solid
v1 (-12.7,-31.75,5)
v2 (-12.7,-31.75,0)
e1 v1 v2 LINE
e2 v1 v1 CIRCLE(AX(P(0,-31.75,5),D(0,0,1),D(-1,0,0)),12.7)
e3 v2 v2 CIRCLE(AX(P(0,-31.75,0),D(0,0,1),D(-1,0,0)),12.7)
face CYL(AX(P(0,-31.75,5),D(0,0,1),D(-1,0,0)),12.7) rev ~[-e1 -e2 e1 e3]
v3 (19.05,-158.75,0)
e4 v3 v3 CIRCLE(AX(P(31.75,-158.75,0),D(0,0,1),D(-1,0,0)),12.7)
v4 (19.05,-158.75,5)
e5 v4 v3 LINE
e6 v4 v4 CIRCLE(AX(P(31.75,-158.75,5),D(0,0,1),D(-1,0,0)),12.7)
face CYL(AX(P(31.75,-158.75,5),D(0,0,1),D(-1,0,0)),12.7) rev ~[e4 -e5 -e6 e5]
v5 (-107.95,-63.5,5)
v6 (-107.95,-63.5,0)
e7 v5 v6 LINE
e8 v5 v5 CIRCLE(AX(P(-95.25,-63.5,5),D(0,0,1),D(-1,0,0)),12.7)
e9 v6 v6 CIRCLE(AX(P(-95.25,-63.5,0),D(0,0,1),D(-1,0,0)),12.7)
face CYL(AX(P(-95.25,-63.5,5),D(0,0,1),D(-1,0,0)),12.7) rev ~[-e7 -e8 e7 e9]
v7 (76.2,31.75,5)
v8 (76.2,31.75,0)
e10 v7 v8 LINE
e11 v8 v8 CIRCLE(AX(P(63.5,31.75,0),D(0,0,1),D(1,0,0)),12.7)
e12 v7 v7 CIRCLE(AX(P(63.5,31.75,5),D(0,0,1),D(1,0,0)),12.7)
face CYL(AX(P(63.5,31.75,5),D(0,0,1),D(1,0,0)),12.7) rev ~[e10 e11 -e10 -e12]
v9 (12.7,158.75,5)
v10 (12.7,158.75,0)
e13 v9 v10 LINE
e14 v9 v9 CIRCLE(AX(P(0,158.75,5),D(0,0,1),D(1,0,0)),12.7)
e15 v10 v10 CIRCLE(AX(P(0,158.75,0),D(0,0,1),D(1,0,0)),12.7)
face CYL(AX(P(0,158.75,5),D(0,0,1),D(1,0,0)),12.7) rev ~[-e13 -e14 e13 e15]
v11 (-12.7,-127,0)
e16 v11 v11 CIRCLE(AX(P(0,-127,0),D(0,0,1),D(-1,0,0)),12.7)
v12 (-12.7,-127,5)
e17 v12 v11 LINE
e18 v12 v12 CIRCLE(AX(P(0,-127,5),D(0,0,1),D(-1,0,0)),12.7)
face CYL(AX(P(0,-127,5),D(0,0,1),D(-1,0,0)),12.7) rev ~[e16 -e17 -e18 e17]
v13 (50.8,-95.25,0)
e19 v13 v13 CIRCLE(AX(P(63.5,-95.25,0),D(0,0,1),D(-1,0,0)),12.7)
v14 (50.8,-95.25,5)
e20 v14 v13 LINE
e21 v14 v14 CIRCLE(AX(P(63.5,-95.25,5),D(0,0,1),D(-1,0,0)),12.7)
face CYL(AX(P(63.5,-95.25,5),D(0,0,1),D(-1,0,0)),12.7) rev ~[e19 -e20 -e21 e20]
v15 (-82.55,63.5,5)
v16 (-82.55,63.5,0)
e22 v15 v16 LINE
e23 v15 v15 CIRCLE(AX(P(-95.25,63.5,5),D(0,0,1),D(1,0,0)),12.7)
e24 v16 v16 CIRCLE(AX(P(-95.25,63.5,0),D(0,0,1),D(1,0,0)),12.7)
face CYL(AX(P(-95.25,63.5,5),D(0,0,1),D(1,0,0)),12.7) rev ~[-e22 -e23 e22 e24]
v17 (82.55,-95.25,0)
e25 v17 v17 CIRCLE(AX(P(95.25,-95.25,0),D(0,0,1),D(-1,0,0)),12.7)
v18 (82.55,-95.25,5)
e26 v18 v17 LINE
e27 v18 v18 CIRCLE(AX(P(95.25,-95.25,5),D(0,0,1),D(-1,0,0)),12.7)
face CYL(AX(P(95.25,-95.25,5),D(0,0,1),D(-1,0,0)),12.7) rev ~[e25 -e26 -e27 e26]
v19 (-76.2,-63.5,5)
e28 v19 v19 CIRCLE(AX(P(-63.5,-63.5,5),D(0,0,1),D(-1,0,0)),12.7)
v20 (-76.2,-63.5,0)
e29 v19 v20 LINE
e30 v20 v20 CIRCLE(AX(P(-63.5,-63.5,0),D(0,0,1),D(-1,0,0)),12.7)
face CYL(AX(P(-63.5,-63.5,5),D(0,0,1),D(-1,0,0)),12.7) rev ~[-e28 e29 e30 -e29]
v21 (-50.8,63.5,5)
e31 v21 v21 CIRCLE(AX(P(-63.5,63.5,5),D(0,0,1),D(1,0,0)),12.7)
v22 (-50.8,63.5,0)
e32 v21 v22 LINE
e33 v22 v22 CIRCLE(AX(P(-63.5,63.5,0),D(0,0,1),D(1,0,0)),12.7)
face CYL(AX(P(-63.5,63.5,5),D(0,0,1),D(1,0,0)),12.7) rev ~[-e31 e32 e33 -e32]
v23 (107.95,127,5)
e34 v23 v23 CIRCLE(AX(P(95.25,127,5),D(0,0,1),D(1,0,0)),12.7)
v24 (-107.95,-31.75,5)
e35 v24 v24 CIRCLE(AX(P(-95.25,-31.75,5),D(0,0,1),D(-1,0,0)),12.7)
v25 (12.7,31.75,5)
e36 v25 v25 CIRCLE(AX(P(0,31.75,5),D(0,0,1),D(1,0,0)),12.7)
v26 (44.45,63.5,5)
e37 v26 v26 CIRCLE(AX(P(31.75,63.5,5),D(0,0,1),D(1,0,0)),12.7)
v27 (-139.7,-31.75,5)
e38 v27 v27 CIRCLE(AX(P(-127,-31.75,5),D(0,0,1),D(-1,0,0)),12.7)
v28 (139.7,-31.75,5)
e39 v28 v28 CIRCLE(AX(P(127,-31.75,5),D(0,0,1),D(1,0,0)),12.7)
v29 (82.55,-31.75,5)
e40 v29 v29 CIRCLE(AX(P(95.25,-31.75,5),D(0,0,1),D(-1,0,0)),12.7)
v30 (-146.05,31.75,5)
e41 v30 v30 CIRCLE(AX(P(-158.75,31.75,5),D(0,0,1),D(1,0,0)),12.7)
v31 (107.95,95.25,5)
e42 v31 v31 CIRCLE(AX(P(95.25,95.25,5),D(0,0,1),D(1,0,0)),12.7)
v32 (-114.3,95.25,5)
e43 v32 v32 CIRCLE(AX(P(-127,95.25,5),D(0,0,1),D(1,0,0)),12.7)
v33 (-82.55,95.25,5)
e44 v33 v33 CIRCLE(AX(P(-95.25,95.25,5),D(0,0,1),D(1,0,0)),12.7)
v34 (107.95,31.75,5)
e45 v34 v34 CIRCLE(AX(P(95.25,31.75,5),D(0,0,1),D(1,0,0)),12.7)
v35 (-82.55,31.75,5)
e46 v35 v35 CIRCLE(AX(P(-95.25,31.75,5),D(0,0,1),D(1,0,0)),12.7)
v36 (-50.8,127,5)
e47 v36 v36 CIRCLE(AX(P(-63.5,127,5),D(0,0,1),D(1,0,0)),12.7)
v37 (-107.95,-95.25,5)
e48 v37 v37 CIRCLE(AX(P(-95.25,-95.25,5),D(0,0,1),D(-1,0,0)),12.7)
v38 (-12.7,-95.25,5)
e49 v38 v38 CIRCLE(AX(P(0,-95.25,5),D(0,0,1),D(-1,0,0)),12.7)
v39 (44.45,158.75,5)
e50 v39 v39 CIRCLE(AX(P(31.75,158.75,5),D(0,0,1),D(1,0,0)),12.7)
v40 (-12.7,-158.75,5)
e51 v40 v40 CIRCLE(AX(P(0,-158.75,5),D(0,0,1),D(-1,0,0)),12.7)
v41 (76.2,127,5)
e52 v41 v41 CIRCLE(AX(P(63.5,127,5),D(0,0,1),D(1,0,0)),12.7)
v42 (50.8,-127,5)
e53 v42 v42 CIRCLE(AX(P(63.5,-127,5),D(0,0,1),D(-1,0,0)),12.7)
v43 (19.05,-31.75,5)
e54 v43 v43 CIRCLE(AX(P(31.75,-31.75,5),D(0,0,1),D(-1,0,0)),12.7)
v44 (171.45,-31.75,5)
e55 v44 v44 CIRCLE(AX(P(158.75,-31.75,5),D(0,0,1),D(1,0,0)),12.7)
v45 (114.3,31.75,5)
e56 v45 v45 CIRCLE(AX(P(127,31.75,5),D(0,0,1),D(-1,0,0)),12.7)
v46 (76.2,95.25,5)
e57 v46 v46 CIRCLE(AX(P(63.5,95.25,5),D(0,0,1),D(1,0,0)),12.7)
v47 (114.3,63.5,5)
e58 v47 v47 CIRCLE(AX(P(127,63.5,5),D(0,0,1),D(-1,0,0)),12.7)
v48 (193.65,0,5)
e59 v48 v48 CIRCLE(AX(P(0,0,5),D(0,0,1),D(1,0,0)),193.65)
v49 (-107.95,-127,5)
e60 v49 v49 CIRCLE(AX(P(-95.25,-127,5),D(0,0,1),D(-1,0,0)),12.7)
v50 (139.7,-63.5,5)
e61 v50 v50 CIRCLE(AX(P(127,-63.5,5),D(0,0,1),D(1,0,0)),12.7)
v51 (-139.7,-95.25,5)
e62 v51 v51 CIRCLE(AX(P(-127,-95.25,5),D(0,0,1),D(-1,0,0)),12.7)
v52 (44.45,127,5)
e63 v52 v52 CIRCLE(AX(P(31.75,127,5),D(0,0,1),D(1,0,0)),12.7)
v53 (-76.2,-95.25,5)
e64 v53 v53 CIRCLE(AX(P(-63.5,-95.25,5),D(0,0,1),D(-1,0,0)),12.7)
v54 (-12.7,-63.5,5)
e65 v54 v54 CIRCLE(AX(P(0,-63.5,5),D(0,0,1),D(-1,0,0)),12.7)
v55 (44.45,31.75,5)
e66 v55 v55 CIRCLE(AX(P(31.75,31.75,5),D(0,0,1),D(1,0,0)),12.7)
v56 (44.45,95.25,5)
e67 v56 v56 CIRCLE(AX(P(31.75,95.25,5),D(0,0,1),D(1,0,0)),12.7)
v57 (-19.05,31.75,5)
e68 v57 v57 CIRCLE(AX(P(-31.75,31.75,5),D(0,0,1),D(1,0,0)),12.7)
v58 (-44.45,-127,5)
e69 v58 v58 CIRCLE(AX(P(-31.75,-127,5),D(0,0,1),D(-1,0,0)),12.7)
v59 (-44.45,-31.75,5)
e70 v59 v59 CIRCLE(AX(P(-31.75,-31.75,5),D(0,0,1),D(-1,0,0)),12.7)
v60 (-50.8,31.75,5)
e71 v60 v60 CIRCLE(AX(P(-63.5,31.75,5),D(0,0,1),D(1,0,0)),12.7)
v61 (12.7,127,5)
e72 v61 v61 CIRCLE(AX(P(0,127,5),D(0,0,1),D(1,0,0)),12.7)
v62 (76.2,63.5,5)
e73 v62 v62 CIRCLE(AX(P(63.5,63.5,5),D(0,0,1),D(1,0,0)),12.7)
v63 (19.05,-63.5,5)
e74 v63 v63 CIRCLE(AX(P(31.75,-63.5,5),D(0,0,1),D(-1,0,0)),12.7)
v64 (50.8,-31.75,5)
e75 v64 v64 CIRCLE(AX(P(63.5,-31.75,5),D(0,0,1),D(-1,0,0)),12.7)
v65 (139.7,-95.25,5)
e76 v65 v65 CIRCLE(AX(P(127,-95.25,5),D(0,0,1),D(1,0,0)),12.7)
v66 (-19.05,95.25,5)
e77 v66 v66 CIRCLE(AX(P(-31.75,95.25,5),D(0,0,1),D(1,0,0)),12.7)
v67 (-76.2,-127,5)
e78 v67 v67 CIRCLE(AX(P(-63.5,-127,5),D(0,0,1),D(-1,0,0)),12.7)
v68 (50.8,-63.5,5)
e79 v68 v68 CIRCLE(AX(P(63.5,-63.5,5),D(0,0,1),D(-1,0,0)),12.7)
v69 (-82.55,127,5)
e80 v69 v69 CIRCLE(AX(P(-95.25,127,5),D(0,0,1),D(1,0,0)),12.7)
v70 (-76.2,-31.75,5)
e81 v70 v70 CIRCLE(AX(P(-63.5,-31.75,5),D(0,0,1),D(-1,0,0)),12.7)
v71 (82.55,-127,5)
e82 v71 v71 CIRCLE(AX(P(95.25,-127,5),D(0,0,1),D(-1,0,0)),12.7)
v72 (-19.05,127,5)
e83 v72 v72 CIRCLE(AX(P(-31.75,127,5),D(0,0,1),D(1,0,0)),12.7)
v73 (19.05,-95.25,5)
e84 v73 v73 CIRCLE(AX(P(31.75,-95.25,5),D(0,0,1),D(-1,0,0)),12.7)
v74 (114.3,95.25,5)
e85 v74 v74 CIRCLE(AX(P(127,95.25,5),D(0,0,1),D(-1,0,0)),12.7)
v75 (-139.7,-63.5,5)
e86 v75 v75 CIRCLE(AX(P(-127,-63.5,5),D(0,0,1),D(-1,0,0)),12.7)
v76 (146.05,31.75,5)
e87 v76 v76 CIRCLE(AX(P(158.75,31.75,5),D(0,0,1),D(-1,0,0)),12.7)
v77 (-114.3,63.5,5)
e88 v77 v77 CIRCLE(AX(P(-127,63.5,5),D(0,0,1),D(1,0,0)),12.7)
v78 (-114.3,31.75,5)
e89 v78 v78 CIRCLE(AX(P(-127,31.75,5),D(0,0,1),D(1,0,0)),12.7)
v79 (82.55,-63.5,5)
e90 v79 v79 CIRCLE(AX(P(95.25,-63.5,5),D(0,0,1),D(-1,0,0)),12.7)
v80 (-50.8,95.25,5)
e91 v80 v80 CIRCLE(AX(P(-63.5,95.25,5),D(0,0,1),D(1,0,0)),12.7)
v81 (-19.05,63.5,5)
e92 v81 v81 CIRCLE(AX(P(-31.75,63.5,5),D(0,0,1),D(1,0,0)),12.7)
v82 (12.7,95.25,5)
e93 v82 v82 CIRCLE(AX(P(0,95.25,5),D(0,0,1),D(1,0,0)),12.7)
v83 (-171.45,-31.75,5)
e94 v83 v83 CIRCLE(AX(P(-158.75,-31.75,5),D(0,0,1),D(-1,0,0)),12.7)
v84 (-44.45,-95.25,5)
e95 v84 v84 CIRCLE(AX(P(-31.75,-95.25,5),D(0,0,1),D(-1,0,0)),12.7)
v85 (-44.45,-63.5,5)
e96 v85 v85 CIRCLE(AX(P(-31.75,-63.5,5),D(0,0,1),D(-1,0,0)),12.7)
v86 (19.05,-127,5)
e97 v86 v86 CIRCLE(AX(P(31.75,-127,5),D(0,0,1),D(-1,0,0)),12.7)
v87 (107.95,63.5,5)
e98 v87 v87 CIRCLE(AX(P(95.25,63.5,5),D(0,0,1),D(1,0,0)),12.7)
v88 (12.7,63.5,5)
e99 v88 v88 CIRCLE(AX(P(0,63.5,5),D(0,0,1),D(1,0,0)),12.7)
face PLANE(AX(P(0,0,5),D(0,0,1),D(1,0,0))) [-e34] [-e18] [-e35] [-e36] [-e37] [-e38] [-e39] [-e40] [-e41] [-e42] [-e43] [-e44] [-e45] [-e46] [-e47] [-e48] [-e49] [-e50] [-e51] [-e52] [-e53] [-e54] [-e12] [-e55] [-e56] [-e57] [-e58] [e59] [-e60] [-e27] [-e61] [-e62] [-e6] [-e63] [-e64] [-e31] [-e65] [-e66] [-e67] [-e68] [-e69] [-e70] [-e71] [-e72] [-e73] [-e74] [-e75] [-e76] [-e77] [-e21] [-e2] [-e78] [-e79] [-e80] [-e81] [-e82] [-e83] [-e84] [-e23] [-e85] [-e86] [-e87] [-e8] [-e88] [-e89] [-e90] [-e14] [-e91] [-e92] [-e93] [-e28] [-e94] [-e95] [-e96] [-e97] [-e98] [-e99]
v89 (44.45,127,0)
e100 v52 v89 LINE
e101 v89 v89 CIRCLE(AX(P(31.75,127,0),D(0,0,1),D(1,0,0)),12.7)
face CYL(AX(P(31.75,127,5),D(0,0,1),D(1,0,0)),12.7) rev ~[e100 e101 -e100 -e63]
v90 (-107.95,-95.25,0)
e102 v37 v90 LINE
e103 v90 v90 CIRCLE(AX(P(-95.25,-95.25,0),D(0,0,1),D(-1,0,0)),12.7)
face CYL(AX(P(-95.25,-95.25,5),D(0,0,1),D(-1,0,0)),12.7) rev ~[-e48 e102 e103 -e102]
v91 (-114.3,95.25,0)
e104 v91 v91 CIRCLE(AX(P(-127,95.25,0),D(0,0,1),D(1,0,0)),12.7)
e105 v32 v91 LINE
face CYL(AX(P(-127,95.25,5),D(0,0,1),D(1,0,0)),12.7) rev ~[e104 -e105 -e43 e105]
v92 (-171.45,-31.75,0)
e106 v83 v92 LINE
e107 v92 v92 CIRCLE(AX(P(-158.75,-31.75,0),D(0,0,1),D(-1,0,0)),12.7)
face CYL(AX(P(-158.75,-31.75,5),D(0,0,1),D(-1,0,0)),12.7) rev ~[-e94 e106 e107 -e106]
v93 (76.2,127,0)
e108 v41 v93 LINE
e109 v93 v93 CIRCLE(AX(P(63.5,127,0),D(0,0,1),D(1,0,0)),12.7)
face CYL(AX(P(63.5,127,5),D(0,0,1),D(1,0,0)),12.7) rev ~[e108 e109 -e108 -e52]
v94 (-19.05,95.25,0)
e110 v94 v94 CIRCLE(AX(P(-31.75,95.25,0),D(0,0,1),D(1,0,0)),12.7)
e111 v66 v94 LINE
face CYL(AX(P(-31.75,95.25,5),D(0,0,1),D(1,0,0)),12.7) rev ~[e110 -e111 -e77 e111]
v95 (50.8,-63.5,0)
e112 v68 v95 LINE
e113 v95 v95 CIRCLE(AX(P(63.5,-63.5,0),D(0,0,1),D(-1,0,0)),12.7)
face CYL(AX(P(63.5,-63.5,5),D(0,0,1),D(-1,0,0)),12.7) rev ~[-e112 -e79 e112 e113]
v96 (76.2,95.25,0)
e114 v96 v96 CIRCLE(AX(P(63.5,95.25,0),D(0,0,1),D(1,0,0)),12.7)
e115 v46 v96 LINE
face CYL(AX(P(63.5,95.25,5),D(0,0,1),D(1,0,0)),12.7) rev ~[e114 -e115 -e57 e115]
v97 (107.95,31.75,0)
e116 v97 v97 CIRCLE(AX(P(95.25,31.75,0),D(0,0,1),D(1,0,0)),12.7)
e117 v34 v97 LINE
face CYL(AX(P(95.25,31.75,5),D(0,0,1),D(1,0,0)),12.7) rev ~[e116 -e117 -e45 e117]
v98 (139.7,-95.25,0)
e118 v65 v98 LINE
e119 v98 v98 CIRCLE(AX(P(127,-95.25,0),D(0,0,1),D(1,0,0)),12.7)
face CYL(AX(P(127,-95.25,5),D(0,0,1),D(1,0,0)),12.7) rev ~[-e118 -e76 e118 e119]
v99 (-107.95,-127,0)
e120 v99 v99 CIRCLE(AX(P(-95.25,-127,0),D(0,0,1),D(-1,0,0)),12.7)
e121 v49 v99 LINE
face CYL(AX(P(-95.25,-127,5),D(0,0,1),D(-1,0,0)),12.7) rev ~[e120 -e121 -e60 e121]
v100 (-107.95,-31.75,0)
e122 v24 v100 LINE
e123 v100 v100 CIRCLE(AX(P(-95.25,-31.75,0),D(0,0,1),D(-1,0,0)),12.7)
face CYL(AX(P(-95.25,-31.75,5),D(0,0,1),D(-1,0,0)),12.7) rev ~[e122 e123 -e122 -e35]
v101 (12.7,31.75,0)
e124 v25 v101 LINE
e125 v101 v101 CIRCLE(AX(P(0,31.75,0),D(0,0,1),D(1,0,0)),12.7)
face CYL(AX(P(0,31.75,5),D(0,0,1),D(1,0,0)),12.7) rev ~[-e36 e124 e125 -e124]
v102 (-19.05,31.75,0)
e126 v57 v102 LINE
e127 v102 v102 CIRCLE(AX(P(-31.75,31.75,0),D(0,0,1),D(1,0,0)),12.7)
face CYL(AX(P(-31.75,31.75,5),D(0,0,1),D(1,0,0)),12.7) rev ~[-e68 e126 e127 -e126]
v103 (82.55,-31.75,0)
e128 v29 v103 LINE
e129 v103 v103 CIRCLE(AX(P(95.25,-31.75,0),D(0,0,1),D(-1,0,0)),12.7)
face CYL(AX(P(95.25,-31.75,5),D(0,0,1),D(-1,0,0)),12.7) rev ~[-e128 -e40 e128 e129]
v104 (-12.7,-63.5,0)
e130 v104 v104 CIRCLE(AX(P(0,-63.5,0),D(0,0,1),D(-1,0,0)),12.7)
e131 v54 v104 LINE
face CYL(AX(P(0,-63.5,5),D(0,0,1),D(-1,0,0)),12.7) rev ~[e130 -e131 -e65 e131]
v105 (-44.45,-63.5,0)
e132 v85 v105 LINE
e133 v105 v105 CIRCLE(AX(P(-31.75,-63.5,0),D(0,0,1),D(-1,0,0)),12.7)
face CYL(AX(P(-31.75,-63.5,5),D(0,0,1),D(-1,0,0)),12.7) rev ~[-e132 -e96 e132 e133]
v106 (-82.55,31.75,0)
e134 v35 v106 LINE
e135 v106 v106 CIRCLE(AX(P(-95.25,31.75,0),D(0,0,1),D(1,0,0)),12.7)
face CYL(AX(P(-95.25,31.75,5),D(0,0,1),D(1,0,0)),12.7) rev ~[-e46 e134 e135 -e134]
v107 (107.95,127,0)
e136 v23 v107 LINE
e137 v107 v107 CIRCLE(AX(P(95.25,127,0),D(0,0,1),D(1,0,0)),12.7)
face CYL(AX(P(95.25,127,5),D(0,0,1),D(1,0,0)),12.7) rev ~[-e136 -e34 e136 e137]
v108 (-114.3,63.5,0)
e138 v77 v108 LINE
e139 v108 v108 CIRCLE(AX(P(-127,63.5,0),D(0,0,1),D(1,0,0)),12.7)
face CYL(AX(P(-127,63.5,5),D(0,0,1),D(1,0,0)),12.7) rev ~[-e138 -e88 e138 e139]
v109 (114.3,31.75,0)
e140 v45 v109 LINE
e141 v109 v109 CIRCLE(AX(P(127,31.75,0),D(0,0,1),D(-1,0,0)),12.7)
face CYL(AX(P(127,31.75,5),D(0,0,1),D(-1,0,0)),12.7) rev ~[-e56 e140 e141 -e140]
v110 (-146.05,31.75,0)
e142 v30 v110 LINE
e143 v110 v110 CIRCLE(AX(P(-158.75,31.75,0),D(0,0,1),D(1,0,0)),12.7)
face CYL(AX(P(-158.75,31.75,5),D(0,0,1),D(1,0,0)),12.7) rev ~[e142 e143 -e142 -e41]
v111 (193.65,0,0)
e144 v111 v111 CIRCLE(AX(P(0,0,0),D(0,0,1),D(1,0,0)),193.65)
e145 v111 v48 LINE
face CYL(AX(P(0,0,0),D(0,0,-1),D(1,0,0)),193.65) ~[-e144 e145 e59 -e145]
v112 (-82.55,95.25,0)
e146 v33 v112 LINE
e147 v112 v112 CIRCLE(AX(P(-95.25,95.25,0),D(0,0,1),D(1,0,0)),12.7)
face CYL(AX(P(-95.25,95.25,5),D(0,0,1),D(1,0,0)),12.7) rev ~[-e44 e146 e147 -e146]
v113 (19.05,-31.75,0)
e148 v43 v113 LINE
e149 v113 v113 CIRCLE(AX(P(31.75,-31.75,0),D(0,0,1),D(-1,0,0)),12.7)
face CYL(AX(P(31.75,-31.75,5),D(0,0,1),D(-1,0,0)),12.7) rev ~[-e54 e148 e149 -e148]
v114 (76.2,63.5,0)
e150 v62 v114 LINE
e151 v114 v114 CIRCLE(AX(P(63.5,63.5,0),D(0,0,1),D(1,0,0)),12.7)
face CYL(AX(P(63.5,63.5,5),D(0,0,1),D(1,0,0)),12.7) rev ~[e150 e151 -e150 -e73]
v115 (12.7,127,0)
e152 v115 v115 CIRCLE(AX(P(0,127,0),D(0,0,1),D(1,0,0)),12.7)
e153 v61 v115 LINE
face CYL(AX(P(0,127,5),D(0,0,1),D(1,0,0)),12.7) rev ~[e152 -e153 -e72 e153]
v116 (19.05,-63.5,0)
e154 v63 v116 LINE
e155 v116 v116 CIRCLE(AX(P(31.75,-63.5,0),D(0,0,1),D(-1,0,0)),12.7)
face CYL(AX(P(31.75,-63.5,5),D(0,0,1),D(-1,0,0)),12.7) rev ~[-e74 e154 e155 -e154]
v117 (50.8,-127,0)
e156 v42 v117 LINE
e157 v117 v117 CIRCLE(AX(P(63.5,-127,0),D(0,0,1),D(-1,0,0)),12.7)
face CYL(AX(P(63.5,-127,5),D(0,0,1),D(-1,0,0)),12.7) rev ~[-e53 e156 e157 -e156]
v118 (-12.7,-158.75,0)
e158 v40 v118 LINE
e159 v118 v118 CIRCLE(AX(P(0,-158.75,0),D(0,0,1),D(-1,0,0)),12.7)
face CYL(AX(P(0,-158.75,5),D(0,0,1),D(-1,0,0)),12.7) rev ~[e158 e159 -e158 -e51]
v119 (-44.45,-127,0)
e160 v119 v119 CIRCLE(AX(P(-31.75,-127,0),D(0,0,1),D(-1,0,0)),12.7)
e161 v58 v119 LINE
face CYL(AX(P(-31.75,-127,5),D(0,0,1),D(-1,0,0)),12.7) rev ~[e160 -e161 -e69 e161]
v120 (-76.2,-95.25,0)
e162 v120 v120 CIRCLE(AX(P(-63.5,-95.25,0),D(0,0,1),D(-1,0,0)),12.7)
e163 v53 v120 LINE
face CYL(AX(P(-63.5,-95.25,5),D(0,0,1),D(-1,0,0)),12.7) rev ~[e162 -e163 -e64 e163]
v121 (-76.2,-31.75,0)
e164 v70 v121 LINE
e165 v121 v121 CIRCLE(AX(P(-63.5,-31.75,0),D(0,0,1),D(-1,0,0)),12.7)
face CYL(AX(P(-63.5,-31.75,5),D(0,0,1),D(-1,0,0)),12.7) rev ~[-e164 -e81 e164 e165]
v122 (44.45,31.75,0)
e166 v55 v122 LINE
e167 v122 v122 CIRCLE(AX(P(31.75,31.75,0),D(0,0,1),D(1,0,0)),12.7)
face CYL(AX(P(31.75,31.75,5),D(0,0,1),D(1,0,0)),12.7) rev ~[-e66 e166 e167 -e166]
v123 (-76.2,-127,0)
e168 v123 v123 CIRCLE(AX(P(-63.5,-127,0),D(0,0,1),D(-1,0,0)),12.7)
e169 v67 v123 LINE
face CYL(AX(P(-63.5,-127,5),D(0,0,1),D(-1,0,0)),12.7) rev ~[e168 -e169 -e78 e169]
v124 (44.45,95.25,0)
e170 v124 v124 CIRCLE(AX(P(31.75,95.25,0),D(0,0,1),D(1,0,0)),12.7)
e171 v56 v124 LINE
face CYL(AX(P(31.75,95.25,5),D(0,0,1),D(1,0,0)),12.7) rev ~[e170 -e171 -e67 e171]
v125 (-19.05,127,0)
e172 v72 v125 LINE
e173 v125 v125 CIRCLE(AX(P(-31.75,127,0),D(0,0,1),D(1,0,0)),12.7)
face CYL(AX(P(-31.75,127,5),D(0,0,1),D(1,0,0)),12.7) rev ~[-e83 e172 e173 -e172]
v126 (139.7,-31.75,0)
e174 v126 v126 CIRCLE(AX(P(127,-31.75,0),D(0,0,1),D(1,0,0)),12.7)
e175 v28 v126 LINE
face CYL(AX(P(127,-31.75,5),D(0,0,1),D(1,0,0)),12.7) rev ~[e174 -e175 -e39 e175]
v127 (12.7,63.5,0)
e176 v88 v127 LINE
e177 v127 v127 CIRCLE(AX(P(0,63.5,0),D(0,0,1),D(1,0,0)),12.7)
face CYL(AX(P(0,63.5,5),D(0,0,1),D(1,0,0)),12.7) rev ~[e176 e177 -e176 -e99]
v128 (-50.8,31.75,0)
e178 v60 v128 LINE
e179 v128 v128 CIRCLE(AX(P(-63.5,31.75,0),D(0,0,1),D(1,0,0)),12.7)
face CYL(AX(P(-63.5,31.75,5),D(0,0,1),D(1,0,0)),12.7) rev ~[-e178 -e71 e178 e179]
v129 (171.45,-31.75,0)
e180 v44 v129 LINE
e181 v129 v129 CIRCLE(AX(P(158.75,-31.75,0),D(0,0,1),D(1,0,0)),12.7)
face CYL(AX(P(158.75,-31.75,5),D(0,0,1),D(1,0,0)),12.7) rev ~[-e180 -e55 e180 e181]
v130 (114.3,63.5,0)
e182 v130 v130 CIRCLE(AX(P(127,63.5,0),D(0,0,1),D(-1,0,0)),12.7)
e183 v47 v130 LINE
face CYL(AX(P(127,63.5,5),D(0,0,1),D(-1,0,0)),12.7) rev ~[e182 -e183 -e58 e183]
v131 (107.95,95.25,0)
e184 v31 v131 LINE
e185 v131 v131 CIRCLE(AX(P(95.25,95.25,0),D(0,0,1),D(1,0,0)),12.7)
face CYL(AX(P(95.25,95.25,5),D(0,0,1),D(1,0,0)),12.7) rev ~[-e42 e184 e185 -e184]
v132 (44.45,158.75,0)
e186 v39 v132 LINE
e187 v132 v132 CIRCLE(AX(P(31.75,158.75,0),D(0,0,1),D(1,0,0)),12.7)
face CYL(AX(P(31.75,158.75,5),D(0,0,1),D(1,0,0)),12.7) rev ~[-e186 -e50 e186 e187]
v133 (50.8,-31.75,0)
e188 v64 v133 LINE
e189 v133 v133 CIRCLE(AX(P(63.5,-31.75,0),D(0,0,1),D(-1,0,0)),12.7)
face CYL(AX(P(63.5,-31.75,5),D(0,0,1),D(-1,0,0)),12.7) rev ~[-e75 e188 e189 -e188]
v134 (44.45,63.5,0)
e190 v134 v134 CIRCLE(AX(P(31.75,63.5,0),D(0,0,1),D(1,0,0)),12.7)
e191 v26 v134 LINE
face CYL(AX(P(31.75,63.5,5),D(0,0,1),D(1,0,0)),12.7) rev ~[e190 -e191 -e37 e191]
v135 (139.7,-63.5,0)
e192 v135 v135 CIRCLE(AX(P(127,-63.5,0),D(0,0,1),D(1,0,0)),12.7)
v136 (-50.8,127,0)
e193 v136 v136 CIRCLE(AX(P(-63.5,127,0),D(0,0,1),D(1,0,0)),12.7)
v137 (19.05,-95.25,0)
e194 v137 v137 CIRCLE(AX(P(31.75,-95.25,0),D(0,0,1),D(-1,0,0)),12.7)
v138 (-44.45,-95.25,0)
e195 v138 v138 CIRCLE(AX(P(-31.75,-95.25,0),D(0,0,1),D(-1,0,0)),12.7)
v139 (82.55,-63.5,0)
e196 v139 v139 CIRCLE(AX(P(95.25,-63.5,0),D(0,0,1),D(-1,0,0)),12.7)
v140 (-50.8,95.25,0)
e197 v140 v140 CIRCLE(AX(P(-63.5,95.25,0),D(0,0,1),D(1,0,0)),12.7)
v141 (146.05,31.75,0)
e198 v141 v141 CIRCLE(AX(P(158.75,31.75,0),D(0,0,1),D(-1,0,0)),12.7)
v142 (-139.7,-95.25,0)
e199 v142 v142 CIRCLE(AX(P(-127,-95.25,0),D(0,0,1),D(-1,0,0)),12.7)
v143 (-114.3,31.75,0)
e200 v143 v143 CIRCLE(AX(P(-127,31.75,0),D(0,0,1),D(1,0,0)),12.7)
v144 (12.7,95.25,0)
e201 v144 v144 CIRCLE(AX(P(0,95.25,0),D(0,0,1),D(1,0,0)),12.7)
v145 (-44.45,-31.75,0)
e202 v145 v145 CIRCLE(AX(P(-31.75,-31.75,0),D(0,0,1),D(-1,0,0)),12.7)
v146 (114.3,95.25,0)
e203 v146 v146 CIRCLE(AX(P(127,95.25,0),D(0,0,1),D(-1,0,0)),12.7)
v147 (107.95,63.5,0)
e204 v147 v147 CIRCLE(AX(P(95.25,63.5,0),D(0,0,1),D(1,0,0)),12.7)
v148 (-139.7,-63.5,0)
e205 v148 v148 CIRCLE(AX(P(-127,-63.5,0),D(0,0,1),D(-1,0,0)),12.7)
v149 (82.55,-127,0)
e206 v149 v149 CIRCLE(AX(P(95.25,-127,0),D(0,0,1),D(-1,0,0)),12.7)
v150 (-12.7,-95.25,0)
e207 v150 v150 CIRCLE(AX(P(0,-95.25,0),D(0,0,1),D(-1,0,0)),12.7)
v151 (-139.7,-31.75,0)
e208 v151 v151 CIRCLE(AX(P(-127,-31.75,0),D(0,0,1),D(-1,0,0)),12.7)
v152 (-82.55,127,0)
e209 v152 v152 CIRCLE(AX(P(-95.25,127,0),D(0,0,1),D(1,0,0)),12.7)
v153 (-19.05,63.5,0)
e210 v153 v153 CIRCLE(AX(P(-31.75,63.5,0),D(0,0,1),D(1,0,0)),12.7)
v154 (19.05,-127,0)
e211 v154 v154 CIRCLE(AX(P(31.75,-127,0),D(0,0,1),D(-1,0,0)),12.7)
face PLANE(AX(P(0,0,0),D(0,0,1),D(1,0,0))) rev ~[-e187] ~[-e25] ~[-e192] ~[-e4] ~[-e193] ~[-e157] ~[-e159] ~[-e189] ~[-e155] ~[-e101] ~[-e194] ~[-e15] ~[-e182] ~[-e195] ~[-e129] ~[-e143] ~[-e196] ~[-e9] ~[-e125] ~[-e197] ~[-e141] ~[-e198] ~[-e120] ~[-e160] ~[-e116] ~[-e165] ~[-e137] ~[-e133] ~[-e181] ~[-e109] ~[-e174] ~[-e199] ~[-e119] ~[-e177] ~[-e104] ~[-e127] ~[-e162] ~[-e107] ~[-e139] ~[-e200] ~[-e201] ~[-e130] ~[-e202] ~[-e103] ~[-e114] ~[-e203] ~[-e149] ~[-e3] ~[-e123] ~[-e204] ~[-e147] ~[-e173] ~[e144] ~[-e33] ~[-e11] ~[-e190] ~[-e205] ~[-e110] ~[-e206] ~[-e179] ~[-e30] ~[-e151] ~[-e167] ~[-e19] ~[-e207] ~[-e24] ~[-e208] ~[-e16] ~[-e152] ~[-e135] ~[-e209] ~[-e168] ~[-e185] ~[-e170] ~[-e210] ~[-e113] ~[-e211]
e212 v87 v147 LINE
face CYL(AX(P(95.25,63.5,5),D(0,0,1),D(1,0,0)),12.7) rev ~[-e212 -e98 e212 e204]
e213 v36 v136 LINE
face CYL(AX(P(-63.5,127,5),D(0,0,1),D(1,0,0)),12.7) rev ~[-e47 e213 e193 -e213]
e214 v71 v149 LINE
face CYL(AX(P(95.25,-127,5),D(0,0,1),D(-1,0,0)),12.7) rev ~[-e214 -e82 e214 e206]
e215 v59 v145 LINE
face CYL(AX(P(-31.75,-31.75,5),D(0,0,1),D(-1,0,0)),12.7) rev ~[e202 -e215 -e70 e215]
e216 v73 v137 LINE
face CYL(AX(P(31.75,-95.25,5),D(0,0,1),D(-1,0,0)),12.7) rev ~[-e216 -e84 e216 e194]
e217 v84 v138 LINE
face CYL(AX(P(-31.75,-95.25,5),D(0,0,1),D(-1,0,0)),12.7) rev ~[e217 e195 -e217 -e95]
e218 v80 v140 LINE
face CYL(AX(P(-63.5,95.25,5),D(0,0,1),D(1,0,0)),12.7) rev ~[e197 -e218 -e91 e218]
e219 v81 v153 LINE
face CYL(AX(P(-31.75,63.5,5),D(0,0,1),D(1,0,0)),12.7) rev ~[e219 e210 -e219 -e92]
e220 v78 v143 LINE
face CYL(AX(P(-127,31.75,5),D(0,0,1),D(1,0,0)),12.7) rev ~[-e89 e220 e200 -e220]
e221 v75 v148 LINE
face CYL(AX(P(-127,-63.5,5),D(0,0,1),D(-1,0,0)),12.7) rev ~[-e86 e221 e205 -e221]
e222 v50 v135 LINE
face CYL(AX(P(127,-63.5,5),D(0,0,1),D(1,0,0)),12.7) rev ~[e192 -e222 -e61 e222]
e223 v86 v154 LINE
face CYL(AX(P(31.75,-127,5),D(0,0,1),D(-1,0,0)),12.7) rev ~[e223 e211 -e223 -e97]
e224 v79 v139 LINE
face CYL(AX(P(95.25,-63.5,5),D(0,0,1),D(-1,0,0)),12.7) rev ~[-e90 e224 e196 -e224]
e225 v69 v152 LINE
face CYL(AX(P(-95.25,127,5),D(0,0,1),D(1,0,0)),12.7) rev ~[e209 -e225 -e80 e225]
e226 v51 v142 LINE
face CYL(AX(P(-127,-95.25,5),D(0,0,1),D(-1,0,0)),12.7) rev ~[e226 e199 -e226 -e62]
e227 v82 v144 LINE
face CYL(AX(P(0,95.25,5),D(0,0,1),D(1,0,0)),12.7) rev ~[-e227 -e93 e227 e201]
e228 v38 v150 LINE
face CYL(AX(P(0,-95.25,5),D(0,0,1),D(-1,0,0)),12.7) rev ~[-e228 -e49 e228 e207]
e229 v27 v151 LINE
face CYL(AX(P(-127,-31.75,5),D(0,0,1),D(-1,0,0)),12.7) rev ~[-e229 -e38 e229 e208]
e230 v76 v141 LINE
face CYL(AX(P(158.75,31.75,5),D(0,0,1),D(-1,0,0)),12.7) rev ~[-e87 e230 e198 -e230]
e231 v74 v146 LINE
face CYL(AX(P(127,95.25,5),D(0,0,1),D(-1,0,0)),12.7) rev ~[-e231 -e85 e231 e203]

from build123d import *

# Parameters (mm, degrees)
SKETCH1_R           = 193.65
BOSS_EXTRUDE1_DEPTH = 5
SKETCH2_R           = 12.7
CUT_EXTRUDE1_DEPTH  = 274.908095901


with BuildPart() as part:
    # Sketch1 → Boss-Extrude1 (new body)
    with BuildSketch(Plane.XY):
        Circle(SKETCH1_R)
    extrude(amount=BOSS_EXTRUDE1_DEPTH)

    # Sketch2 → Cut-Extrude1 (cut, through all)
    with BuildSketch(Plane.XY.offset(5)):
        with Locations((0, 158.75)):
            Circle(SKETCH2_R)
        with Locations((31.75, 158.75)):
            Circle(SKETCH2_R)
        with Locations((-95.25, 127)):
            Circle(SKETCH2_R)
        with Locations((-63.5, 127)):
            Circle(SKETCH2_R)
        with Locations((-31.75, 127)):
            Circle(SKETCH2_R)
        with Locations((0, 127)):
            Circle(SKETCH2_R)
        with Locations((31.75, 127)):
            Circle(SKETCH2_R)
        with Locations((63.5, 127)):
            Circle(SKETCH2_R)
        with Locations((95.25, 127)):
            Circle(SKETCH2_R)
        with Locations((-63.5, 95.25)):
            Circle(SKETCH2_R)
        with Locations((-31.75, 95.25)):
            Circle(SKETCH2_R)
        with Locations((0, 95.25)):
            Circle(SKETCH2_R)
        with Locations((31.75, 95.25)):
            Circle(SKETCH2_R)
        with Locations((63.5, 95.25)):
            Circle(SKETCH2_R)
        with Locations((95.25, 95.25)):
            Circle(SKETCH2_R)
        with Locations((-63.5, 63.5)):
            Circle(SKETCH2_R)
        with Locations((-31.75, 63.5)):
            Circle(SKETCH2_R)
        with Locations((0, 63.5)):
            Circle(SKETCH2_R)
        with Locations((31.75, 63.5)):
            Circle(SKETCH2_R)
        with Locations((63.5, 63.5)):
            Circle(SKETCH2_R)
        with Locations((95.25, 63.5)):
            Circle(SKETCH2_R)
        with Locations((-63.5, 31.75)):
            Circle(SKETCH2_R)
        with Locations((-31.75, 31.75)):
            Circle(SKETCH2_R)
        with Locations((0, 31.75)):
            Circle(SKETCH2_R)
        with Locations((31.75, 31.75)):
            Circle(SKETCH2_R)
        with Locations((63.5, 31.75)):
            Circle(SKETCH2_R)
        with Locations((95.25, 31.75)):
            Circle(SKETCH2_R)
        with Locations((-95.25, 95.25)):
            Circle(SKETCH2_R)
        with Locations((-95.25, 63.5)):
            Circle(SKETCH2_R)
        with Locations((-95.25, 31.75)):
            Circle(SKETCH2_R)
        with Locations((-127, 95.25)):
            Circle(SKETCH2_R)
        with Locations((-127, 63.5)):
            Circle(SKETCH2_R)
        with Locations((-127, 31.75)):
            Circle(SKETCH2_R)
        with Locations((-158.75, 31.75)):
            Circle(SKETCH2_R)
        with Locations(Location((158.75, 31.75, 0), (0, 0, 180))):
            Circle(SKETCH2_R)
        with Locations(Location((127, 31.75, 0), (0, 0, 180))):
            Circle(SKETCH2_R)
        with Locations(Location((127, 63.5, 0), (0, 0, 180))):
            Circle(SKETCH2_R)
        with Locations(Location((127, 95.25, 0), (0, 0, 180))):
            Circle(SKETCH2_R)
        with Locations((127, -95.25)):
            Circle(SKETCH2_R)
        with Locations((127, -63.5)):
            Circle(SKETCH2_R)
        with Locations((127, -31.75)):
            Circle(SKETCH2_R)
        with Locations((158.75, -31.75)):
            Circle(SKETCH2_R)
        with Locations(Location((-158.75, -31.75, 0), (0, 0, 180))):
            Circle(SKETCH2_R)
        with Locations(Location((-127, -31.75, 0), (0, 0, 180))):
            Circle(SKETCH2_R)
        with Locations(Location((-127, -63.5, 0), (0, 0, 180))):
            Circle(SKETCH2_R)
        with Locations(Location((-127, -95.25, 0), (0, 0, 180))):
            Circle(SKETCH2_R)
        with Locations(Location((-95.25, -31.75, 0), (0, 0, 180))):
            Circle(SKETCH2_R)
        with Locations(Location((-95.25, -63.5, 0), (0, 0, 180))):
            Circle(SKETCH2_R)
        with Locations(Location((-95.25, -95.25, 0), (0, 0, 180))):
            Circle(SKETCH2_R)
        with Locations(Location((95.25, -31.75, 0), (0, 0, 180))):
            Circle(SKETCH2_R)
        with Locations(Location((63.5, -31.75, 0), (0, 0, 180))):
            Circle(SKETCH2_R)
        with Locations(Location((31.75, -31.75, 0), (0, 0, 180))):
            Circle(SKETCH2_R)
        with Locations(Location((0, -31.75, 0), (0, 0, 180))):
            Circle(SKETCH2_R)
        with Locations(Location((-31.75, -31.75, 0), (0, 0, 180))):
            Circle(SKETCH2_R)
        with Locations(Location((-63.5, -31.75, 0), (0, 0, 180))):
            Circle(SKETCH2_R)
        with Locations(Location((95.25, -63.5, 0), (0, 0, 180))):
            Circle(SKETCH2_R)
        with Locations(Location((63.5, -63.5, 0), (0, 0, 180))):
            Circle(SKETCH2_R)
        with Locations(Location((31.75, -63.5, 0), (0, 0, 180))):
            Circle(SKETCH2_R)
        with Locations(Location((0, -63.5, 0), (0, 0, 180))):
            Circle(SKETCH2_R)
        with Locations(Location((-31.75, -63.5, 0), (0, 0, 180))):
            Circle(SKETCH2_R)
        with Locations(Location((-63.5, -63.5, 0), (0, 0, 180))):
            Circle(SKETCH2_R)
        with Locations(Location((95.25, -95.25, 0), (0, 0, 180))):
            Circle(SKETCH2_R)
        with Locations(Location((63.5, -95.25, 0), (0, 0, 180))):
            Circle(SKETCH2_R)
        with Locations(Location((31.75, -95.25, 0), (0, 0, 180))):
            Circle(SKETCH2_R)
        with Locations(Location((0, -95.25, 0), (0, 0, 180))):
            Circle(SKETCH2_R)
        with Locations(Location((-31.75, -95.25, 0), (0, 0, 180))):
            Circle(SKETCH2_R)
        with Locations(Location((-63.5, -95.25, 0), (0, 0, 180))):
            Circle(SKETCH2_R)
        with Locations(Location((95.25, -127, 0), (0, 0, 180))):
            Circle(SKETCH2_R)
        with Locations(Location((63.5, -127, 0), (0, 0, 180))):
            Circle(SKETCH2_R)
        with Locations(Location((31.75, -127, 0), (0, 0, 180))):
            Circle(SKETCH2_R)
        with Locations(Location((0, -127, 0), (0, 0, 180))):
            Circle(SKETCH2_R)
        with Locations(Location((-31.75, -127, 0), (0, 0, 180))):
            Circle(SKETCH2_R)
        with Locations(Location((-63.5, -127, 0), (0, 0, 180))):
            Circle(SKETCH2_R)
        with Locations(Location((-95.25, -127, 0), (0, 0, 180))):
            Circle(SKETCH2_R)
        with Locations(Location((31.75, -158.75, 0), (0, 0, 180))):
            Circle(SKETCH2_R)
        with Locations(Location((0, -158.75, 0), (0, 0, 180))):
            Circle(SKETCH2_R)
    extrude(amount=-CUT_EXTRUDE1_DEPTH, mode=Mode.SUBTRACT)


solid = part.part
